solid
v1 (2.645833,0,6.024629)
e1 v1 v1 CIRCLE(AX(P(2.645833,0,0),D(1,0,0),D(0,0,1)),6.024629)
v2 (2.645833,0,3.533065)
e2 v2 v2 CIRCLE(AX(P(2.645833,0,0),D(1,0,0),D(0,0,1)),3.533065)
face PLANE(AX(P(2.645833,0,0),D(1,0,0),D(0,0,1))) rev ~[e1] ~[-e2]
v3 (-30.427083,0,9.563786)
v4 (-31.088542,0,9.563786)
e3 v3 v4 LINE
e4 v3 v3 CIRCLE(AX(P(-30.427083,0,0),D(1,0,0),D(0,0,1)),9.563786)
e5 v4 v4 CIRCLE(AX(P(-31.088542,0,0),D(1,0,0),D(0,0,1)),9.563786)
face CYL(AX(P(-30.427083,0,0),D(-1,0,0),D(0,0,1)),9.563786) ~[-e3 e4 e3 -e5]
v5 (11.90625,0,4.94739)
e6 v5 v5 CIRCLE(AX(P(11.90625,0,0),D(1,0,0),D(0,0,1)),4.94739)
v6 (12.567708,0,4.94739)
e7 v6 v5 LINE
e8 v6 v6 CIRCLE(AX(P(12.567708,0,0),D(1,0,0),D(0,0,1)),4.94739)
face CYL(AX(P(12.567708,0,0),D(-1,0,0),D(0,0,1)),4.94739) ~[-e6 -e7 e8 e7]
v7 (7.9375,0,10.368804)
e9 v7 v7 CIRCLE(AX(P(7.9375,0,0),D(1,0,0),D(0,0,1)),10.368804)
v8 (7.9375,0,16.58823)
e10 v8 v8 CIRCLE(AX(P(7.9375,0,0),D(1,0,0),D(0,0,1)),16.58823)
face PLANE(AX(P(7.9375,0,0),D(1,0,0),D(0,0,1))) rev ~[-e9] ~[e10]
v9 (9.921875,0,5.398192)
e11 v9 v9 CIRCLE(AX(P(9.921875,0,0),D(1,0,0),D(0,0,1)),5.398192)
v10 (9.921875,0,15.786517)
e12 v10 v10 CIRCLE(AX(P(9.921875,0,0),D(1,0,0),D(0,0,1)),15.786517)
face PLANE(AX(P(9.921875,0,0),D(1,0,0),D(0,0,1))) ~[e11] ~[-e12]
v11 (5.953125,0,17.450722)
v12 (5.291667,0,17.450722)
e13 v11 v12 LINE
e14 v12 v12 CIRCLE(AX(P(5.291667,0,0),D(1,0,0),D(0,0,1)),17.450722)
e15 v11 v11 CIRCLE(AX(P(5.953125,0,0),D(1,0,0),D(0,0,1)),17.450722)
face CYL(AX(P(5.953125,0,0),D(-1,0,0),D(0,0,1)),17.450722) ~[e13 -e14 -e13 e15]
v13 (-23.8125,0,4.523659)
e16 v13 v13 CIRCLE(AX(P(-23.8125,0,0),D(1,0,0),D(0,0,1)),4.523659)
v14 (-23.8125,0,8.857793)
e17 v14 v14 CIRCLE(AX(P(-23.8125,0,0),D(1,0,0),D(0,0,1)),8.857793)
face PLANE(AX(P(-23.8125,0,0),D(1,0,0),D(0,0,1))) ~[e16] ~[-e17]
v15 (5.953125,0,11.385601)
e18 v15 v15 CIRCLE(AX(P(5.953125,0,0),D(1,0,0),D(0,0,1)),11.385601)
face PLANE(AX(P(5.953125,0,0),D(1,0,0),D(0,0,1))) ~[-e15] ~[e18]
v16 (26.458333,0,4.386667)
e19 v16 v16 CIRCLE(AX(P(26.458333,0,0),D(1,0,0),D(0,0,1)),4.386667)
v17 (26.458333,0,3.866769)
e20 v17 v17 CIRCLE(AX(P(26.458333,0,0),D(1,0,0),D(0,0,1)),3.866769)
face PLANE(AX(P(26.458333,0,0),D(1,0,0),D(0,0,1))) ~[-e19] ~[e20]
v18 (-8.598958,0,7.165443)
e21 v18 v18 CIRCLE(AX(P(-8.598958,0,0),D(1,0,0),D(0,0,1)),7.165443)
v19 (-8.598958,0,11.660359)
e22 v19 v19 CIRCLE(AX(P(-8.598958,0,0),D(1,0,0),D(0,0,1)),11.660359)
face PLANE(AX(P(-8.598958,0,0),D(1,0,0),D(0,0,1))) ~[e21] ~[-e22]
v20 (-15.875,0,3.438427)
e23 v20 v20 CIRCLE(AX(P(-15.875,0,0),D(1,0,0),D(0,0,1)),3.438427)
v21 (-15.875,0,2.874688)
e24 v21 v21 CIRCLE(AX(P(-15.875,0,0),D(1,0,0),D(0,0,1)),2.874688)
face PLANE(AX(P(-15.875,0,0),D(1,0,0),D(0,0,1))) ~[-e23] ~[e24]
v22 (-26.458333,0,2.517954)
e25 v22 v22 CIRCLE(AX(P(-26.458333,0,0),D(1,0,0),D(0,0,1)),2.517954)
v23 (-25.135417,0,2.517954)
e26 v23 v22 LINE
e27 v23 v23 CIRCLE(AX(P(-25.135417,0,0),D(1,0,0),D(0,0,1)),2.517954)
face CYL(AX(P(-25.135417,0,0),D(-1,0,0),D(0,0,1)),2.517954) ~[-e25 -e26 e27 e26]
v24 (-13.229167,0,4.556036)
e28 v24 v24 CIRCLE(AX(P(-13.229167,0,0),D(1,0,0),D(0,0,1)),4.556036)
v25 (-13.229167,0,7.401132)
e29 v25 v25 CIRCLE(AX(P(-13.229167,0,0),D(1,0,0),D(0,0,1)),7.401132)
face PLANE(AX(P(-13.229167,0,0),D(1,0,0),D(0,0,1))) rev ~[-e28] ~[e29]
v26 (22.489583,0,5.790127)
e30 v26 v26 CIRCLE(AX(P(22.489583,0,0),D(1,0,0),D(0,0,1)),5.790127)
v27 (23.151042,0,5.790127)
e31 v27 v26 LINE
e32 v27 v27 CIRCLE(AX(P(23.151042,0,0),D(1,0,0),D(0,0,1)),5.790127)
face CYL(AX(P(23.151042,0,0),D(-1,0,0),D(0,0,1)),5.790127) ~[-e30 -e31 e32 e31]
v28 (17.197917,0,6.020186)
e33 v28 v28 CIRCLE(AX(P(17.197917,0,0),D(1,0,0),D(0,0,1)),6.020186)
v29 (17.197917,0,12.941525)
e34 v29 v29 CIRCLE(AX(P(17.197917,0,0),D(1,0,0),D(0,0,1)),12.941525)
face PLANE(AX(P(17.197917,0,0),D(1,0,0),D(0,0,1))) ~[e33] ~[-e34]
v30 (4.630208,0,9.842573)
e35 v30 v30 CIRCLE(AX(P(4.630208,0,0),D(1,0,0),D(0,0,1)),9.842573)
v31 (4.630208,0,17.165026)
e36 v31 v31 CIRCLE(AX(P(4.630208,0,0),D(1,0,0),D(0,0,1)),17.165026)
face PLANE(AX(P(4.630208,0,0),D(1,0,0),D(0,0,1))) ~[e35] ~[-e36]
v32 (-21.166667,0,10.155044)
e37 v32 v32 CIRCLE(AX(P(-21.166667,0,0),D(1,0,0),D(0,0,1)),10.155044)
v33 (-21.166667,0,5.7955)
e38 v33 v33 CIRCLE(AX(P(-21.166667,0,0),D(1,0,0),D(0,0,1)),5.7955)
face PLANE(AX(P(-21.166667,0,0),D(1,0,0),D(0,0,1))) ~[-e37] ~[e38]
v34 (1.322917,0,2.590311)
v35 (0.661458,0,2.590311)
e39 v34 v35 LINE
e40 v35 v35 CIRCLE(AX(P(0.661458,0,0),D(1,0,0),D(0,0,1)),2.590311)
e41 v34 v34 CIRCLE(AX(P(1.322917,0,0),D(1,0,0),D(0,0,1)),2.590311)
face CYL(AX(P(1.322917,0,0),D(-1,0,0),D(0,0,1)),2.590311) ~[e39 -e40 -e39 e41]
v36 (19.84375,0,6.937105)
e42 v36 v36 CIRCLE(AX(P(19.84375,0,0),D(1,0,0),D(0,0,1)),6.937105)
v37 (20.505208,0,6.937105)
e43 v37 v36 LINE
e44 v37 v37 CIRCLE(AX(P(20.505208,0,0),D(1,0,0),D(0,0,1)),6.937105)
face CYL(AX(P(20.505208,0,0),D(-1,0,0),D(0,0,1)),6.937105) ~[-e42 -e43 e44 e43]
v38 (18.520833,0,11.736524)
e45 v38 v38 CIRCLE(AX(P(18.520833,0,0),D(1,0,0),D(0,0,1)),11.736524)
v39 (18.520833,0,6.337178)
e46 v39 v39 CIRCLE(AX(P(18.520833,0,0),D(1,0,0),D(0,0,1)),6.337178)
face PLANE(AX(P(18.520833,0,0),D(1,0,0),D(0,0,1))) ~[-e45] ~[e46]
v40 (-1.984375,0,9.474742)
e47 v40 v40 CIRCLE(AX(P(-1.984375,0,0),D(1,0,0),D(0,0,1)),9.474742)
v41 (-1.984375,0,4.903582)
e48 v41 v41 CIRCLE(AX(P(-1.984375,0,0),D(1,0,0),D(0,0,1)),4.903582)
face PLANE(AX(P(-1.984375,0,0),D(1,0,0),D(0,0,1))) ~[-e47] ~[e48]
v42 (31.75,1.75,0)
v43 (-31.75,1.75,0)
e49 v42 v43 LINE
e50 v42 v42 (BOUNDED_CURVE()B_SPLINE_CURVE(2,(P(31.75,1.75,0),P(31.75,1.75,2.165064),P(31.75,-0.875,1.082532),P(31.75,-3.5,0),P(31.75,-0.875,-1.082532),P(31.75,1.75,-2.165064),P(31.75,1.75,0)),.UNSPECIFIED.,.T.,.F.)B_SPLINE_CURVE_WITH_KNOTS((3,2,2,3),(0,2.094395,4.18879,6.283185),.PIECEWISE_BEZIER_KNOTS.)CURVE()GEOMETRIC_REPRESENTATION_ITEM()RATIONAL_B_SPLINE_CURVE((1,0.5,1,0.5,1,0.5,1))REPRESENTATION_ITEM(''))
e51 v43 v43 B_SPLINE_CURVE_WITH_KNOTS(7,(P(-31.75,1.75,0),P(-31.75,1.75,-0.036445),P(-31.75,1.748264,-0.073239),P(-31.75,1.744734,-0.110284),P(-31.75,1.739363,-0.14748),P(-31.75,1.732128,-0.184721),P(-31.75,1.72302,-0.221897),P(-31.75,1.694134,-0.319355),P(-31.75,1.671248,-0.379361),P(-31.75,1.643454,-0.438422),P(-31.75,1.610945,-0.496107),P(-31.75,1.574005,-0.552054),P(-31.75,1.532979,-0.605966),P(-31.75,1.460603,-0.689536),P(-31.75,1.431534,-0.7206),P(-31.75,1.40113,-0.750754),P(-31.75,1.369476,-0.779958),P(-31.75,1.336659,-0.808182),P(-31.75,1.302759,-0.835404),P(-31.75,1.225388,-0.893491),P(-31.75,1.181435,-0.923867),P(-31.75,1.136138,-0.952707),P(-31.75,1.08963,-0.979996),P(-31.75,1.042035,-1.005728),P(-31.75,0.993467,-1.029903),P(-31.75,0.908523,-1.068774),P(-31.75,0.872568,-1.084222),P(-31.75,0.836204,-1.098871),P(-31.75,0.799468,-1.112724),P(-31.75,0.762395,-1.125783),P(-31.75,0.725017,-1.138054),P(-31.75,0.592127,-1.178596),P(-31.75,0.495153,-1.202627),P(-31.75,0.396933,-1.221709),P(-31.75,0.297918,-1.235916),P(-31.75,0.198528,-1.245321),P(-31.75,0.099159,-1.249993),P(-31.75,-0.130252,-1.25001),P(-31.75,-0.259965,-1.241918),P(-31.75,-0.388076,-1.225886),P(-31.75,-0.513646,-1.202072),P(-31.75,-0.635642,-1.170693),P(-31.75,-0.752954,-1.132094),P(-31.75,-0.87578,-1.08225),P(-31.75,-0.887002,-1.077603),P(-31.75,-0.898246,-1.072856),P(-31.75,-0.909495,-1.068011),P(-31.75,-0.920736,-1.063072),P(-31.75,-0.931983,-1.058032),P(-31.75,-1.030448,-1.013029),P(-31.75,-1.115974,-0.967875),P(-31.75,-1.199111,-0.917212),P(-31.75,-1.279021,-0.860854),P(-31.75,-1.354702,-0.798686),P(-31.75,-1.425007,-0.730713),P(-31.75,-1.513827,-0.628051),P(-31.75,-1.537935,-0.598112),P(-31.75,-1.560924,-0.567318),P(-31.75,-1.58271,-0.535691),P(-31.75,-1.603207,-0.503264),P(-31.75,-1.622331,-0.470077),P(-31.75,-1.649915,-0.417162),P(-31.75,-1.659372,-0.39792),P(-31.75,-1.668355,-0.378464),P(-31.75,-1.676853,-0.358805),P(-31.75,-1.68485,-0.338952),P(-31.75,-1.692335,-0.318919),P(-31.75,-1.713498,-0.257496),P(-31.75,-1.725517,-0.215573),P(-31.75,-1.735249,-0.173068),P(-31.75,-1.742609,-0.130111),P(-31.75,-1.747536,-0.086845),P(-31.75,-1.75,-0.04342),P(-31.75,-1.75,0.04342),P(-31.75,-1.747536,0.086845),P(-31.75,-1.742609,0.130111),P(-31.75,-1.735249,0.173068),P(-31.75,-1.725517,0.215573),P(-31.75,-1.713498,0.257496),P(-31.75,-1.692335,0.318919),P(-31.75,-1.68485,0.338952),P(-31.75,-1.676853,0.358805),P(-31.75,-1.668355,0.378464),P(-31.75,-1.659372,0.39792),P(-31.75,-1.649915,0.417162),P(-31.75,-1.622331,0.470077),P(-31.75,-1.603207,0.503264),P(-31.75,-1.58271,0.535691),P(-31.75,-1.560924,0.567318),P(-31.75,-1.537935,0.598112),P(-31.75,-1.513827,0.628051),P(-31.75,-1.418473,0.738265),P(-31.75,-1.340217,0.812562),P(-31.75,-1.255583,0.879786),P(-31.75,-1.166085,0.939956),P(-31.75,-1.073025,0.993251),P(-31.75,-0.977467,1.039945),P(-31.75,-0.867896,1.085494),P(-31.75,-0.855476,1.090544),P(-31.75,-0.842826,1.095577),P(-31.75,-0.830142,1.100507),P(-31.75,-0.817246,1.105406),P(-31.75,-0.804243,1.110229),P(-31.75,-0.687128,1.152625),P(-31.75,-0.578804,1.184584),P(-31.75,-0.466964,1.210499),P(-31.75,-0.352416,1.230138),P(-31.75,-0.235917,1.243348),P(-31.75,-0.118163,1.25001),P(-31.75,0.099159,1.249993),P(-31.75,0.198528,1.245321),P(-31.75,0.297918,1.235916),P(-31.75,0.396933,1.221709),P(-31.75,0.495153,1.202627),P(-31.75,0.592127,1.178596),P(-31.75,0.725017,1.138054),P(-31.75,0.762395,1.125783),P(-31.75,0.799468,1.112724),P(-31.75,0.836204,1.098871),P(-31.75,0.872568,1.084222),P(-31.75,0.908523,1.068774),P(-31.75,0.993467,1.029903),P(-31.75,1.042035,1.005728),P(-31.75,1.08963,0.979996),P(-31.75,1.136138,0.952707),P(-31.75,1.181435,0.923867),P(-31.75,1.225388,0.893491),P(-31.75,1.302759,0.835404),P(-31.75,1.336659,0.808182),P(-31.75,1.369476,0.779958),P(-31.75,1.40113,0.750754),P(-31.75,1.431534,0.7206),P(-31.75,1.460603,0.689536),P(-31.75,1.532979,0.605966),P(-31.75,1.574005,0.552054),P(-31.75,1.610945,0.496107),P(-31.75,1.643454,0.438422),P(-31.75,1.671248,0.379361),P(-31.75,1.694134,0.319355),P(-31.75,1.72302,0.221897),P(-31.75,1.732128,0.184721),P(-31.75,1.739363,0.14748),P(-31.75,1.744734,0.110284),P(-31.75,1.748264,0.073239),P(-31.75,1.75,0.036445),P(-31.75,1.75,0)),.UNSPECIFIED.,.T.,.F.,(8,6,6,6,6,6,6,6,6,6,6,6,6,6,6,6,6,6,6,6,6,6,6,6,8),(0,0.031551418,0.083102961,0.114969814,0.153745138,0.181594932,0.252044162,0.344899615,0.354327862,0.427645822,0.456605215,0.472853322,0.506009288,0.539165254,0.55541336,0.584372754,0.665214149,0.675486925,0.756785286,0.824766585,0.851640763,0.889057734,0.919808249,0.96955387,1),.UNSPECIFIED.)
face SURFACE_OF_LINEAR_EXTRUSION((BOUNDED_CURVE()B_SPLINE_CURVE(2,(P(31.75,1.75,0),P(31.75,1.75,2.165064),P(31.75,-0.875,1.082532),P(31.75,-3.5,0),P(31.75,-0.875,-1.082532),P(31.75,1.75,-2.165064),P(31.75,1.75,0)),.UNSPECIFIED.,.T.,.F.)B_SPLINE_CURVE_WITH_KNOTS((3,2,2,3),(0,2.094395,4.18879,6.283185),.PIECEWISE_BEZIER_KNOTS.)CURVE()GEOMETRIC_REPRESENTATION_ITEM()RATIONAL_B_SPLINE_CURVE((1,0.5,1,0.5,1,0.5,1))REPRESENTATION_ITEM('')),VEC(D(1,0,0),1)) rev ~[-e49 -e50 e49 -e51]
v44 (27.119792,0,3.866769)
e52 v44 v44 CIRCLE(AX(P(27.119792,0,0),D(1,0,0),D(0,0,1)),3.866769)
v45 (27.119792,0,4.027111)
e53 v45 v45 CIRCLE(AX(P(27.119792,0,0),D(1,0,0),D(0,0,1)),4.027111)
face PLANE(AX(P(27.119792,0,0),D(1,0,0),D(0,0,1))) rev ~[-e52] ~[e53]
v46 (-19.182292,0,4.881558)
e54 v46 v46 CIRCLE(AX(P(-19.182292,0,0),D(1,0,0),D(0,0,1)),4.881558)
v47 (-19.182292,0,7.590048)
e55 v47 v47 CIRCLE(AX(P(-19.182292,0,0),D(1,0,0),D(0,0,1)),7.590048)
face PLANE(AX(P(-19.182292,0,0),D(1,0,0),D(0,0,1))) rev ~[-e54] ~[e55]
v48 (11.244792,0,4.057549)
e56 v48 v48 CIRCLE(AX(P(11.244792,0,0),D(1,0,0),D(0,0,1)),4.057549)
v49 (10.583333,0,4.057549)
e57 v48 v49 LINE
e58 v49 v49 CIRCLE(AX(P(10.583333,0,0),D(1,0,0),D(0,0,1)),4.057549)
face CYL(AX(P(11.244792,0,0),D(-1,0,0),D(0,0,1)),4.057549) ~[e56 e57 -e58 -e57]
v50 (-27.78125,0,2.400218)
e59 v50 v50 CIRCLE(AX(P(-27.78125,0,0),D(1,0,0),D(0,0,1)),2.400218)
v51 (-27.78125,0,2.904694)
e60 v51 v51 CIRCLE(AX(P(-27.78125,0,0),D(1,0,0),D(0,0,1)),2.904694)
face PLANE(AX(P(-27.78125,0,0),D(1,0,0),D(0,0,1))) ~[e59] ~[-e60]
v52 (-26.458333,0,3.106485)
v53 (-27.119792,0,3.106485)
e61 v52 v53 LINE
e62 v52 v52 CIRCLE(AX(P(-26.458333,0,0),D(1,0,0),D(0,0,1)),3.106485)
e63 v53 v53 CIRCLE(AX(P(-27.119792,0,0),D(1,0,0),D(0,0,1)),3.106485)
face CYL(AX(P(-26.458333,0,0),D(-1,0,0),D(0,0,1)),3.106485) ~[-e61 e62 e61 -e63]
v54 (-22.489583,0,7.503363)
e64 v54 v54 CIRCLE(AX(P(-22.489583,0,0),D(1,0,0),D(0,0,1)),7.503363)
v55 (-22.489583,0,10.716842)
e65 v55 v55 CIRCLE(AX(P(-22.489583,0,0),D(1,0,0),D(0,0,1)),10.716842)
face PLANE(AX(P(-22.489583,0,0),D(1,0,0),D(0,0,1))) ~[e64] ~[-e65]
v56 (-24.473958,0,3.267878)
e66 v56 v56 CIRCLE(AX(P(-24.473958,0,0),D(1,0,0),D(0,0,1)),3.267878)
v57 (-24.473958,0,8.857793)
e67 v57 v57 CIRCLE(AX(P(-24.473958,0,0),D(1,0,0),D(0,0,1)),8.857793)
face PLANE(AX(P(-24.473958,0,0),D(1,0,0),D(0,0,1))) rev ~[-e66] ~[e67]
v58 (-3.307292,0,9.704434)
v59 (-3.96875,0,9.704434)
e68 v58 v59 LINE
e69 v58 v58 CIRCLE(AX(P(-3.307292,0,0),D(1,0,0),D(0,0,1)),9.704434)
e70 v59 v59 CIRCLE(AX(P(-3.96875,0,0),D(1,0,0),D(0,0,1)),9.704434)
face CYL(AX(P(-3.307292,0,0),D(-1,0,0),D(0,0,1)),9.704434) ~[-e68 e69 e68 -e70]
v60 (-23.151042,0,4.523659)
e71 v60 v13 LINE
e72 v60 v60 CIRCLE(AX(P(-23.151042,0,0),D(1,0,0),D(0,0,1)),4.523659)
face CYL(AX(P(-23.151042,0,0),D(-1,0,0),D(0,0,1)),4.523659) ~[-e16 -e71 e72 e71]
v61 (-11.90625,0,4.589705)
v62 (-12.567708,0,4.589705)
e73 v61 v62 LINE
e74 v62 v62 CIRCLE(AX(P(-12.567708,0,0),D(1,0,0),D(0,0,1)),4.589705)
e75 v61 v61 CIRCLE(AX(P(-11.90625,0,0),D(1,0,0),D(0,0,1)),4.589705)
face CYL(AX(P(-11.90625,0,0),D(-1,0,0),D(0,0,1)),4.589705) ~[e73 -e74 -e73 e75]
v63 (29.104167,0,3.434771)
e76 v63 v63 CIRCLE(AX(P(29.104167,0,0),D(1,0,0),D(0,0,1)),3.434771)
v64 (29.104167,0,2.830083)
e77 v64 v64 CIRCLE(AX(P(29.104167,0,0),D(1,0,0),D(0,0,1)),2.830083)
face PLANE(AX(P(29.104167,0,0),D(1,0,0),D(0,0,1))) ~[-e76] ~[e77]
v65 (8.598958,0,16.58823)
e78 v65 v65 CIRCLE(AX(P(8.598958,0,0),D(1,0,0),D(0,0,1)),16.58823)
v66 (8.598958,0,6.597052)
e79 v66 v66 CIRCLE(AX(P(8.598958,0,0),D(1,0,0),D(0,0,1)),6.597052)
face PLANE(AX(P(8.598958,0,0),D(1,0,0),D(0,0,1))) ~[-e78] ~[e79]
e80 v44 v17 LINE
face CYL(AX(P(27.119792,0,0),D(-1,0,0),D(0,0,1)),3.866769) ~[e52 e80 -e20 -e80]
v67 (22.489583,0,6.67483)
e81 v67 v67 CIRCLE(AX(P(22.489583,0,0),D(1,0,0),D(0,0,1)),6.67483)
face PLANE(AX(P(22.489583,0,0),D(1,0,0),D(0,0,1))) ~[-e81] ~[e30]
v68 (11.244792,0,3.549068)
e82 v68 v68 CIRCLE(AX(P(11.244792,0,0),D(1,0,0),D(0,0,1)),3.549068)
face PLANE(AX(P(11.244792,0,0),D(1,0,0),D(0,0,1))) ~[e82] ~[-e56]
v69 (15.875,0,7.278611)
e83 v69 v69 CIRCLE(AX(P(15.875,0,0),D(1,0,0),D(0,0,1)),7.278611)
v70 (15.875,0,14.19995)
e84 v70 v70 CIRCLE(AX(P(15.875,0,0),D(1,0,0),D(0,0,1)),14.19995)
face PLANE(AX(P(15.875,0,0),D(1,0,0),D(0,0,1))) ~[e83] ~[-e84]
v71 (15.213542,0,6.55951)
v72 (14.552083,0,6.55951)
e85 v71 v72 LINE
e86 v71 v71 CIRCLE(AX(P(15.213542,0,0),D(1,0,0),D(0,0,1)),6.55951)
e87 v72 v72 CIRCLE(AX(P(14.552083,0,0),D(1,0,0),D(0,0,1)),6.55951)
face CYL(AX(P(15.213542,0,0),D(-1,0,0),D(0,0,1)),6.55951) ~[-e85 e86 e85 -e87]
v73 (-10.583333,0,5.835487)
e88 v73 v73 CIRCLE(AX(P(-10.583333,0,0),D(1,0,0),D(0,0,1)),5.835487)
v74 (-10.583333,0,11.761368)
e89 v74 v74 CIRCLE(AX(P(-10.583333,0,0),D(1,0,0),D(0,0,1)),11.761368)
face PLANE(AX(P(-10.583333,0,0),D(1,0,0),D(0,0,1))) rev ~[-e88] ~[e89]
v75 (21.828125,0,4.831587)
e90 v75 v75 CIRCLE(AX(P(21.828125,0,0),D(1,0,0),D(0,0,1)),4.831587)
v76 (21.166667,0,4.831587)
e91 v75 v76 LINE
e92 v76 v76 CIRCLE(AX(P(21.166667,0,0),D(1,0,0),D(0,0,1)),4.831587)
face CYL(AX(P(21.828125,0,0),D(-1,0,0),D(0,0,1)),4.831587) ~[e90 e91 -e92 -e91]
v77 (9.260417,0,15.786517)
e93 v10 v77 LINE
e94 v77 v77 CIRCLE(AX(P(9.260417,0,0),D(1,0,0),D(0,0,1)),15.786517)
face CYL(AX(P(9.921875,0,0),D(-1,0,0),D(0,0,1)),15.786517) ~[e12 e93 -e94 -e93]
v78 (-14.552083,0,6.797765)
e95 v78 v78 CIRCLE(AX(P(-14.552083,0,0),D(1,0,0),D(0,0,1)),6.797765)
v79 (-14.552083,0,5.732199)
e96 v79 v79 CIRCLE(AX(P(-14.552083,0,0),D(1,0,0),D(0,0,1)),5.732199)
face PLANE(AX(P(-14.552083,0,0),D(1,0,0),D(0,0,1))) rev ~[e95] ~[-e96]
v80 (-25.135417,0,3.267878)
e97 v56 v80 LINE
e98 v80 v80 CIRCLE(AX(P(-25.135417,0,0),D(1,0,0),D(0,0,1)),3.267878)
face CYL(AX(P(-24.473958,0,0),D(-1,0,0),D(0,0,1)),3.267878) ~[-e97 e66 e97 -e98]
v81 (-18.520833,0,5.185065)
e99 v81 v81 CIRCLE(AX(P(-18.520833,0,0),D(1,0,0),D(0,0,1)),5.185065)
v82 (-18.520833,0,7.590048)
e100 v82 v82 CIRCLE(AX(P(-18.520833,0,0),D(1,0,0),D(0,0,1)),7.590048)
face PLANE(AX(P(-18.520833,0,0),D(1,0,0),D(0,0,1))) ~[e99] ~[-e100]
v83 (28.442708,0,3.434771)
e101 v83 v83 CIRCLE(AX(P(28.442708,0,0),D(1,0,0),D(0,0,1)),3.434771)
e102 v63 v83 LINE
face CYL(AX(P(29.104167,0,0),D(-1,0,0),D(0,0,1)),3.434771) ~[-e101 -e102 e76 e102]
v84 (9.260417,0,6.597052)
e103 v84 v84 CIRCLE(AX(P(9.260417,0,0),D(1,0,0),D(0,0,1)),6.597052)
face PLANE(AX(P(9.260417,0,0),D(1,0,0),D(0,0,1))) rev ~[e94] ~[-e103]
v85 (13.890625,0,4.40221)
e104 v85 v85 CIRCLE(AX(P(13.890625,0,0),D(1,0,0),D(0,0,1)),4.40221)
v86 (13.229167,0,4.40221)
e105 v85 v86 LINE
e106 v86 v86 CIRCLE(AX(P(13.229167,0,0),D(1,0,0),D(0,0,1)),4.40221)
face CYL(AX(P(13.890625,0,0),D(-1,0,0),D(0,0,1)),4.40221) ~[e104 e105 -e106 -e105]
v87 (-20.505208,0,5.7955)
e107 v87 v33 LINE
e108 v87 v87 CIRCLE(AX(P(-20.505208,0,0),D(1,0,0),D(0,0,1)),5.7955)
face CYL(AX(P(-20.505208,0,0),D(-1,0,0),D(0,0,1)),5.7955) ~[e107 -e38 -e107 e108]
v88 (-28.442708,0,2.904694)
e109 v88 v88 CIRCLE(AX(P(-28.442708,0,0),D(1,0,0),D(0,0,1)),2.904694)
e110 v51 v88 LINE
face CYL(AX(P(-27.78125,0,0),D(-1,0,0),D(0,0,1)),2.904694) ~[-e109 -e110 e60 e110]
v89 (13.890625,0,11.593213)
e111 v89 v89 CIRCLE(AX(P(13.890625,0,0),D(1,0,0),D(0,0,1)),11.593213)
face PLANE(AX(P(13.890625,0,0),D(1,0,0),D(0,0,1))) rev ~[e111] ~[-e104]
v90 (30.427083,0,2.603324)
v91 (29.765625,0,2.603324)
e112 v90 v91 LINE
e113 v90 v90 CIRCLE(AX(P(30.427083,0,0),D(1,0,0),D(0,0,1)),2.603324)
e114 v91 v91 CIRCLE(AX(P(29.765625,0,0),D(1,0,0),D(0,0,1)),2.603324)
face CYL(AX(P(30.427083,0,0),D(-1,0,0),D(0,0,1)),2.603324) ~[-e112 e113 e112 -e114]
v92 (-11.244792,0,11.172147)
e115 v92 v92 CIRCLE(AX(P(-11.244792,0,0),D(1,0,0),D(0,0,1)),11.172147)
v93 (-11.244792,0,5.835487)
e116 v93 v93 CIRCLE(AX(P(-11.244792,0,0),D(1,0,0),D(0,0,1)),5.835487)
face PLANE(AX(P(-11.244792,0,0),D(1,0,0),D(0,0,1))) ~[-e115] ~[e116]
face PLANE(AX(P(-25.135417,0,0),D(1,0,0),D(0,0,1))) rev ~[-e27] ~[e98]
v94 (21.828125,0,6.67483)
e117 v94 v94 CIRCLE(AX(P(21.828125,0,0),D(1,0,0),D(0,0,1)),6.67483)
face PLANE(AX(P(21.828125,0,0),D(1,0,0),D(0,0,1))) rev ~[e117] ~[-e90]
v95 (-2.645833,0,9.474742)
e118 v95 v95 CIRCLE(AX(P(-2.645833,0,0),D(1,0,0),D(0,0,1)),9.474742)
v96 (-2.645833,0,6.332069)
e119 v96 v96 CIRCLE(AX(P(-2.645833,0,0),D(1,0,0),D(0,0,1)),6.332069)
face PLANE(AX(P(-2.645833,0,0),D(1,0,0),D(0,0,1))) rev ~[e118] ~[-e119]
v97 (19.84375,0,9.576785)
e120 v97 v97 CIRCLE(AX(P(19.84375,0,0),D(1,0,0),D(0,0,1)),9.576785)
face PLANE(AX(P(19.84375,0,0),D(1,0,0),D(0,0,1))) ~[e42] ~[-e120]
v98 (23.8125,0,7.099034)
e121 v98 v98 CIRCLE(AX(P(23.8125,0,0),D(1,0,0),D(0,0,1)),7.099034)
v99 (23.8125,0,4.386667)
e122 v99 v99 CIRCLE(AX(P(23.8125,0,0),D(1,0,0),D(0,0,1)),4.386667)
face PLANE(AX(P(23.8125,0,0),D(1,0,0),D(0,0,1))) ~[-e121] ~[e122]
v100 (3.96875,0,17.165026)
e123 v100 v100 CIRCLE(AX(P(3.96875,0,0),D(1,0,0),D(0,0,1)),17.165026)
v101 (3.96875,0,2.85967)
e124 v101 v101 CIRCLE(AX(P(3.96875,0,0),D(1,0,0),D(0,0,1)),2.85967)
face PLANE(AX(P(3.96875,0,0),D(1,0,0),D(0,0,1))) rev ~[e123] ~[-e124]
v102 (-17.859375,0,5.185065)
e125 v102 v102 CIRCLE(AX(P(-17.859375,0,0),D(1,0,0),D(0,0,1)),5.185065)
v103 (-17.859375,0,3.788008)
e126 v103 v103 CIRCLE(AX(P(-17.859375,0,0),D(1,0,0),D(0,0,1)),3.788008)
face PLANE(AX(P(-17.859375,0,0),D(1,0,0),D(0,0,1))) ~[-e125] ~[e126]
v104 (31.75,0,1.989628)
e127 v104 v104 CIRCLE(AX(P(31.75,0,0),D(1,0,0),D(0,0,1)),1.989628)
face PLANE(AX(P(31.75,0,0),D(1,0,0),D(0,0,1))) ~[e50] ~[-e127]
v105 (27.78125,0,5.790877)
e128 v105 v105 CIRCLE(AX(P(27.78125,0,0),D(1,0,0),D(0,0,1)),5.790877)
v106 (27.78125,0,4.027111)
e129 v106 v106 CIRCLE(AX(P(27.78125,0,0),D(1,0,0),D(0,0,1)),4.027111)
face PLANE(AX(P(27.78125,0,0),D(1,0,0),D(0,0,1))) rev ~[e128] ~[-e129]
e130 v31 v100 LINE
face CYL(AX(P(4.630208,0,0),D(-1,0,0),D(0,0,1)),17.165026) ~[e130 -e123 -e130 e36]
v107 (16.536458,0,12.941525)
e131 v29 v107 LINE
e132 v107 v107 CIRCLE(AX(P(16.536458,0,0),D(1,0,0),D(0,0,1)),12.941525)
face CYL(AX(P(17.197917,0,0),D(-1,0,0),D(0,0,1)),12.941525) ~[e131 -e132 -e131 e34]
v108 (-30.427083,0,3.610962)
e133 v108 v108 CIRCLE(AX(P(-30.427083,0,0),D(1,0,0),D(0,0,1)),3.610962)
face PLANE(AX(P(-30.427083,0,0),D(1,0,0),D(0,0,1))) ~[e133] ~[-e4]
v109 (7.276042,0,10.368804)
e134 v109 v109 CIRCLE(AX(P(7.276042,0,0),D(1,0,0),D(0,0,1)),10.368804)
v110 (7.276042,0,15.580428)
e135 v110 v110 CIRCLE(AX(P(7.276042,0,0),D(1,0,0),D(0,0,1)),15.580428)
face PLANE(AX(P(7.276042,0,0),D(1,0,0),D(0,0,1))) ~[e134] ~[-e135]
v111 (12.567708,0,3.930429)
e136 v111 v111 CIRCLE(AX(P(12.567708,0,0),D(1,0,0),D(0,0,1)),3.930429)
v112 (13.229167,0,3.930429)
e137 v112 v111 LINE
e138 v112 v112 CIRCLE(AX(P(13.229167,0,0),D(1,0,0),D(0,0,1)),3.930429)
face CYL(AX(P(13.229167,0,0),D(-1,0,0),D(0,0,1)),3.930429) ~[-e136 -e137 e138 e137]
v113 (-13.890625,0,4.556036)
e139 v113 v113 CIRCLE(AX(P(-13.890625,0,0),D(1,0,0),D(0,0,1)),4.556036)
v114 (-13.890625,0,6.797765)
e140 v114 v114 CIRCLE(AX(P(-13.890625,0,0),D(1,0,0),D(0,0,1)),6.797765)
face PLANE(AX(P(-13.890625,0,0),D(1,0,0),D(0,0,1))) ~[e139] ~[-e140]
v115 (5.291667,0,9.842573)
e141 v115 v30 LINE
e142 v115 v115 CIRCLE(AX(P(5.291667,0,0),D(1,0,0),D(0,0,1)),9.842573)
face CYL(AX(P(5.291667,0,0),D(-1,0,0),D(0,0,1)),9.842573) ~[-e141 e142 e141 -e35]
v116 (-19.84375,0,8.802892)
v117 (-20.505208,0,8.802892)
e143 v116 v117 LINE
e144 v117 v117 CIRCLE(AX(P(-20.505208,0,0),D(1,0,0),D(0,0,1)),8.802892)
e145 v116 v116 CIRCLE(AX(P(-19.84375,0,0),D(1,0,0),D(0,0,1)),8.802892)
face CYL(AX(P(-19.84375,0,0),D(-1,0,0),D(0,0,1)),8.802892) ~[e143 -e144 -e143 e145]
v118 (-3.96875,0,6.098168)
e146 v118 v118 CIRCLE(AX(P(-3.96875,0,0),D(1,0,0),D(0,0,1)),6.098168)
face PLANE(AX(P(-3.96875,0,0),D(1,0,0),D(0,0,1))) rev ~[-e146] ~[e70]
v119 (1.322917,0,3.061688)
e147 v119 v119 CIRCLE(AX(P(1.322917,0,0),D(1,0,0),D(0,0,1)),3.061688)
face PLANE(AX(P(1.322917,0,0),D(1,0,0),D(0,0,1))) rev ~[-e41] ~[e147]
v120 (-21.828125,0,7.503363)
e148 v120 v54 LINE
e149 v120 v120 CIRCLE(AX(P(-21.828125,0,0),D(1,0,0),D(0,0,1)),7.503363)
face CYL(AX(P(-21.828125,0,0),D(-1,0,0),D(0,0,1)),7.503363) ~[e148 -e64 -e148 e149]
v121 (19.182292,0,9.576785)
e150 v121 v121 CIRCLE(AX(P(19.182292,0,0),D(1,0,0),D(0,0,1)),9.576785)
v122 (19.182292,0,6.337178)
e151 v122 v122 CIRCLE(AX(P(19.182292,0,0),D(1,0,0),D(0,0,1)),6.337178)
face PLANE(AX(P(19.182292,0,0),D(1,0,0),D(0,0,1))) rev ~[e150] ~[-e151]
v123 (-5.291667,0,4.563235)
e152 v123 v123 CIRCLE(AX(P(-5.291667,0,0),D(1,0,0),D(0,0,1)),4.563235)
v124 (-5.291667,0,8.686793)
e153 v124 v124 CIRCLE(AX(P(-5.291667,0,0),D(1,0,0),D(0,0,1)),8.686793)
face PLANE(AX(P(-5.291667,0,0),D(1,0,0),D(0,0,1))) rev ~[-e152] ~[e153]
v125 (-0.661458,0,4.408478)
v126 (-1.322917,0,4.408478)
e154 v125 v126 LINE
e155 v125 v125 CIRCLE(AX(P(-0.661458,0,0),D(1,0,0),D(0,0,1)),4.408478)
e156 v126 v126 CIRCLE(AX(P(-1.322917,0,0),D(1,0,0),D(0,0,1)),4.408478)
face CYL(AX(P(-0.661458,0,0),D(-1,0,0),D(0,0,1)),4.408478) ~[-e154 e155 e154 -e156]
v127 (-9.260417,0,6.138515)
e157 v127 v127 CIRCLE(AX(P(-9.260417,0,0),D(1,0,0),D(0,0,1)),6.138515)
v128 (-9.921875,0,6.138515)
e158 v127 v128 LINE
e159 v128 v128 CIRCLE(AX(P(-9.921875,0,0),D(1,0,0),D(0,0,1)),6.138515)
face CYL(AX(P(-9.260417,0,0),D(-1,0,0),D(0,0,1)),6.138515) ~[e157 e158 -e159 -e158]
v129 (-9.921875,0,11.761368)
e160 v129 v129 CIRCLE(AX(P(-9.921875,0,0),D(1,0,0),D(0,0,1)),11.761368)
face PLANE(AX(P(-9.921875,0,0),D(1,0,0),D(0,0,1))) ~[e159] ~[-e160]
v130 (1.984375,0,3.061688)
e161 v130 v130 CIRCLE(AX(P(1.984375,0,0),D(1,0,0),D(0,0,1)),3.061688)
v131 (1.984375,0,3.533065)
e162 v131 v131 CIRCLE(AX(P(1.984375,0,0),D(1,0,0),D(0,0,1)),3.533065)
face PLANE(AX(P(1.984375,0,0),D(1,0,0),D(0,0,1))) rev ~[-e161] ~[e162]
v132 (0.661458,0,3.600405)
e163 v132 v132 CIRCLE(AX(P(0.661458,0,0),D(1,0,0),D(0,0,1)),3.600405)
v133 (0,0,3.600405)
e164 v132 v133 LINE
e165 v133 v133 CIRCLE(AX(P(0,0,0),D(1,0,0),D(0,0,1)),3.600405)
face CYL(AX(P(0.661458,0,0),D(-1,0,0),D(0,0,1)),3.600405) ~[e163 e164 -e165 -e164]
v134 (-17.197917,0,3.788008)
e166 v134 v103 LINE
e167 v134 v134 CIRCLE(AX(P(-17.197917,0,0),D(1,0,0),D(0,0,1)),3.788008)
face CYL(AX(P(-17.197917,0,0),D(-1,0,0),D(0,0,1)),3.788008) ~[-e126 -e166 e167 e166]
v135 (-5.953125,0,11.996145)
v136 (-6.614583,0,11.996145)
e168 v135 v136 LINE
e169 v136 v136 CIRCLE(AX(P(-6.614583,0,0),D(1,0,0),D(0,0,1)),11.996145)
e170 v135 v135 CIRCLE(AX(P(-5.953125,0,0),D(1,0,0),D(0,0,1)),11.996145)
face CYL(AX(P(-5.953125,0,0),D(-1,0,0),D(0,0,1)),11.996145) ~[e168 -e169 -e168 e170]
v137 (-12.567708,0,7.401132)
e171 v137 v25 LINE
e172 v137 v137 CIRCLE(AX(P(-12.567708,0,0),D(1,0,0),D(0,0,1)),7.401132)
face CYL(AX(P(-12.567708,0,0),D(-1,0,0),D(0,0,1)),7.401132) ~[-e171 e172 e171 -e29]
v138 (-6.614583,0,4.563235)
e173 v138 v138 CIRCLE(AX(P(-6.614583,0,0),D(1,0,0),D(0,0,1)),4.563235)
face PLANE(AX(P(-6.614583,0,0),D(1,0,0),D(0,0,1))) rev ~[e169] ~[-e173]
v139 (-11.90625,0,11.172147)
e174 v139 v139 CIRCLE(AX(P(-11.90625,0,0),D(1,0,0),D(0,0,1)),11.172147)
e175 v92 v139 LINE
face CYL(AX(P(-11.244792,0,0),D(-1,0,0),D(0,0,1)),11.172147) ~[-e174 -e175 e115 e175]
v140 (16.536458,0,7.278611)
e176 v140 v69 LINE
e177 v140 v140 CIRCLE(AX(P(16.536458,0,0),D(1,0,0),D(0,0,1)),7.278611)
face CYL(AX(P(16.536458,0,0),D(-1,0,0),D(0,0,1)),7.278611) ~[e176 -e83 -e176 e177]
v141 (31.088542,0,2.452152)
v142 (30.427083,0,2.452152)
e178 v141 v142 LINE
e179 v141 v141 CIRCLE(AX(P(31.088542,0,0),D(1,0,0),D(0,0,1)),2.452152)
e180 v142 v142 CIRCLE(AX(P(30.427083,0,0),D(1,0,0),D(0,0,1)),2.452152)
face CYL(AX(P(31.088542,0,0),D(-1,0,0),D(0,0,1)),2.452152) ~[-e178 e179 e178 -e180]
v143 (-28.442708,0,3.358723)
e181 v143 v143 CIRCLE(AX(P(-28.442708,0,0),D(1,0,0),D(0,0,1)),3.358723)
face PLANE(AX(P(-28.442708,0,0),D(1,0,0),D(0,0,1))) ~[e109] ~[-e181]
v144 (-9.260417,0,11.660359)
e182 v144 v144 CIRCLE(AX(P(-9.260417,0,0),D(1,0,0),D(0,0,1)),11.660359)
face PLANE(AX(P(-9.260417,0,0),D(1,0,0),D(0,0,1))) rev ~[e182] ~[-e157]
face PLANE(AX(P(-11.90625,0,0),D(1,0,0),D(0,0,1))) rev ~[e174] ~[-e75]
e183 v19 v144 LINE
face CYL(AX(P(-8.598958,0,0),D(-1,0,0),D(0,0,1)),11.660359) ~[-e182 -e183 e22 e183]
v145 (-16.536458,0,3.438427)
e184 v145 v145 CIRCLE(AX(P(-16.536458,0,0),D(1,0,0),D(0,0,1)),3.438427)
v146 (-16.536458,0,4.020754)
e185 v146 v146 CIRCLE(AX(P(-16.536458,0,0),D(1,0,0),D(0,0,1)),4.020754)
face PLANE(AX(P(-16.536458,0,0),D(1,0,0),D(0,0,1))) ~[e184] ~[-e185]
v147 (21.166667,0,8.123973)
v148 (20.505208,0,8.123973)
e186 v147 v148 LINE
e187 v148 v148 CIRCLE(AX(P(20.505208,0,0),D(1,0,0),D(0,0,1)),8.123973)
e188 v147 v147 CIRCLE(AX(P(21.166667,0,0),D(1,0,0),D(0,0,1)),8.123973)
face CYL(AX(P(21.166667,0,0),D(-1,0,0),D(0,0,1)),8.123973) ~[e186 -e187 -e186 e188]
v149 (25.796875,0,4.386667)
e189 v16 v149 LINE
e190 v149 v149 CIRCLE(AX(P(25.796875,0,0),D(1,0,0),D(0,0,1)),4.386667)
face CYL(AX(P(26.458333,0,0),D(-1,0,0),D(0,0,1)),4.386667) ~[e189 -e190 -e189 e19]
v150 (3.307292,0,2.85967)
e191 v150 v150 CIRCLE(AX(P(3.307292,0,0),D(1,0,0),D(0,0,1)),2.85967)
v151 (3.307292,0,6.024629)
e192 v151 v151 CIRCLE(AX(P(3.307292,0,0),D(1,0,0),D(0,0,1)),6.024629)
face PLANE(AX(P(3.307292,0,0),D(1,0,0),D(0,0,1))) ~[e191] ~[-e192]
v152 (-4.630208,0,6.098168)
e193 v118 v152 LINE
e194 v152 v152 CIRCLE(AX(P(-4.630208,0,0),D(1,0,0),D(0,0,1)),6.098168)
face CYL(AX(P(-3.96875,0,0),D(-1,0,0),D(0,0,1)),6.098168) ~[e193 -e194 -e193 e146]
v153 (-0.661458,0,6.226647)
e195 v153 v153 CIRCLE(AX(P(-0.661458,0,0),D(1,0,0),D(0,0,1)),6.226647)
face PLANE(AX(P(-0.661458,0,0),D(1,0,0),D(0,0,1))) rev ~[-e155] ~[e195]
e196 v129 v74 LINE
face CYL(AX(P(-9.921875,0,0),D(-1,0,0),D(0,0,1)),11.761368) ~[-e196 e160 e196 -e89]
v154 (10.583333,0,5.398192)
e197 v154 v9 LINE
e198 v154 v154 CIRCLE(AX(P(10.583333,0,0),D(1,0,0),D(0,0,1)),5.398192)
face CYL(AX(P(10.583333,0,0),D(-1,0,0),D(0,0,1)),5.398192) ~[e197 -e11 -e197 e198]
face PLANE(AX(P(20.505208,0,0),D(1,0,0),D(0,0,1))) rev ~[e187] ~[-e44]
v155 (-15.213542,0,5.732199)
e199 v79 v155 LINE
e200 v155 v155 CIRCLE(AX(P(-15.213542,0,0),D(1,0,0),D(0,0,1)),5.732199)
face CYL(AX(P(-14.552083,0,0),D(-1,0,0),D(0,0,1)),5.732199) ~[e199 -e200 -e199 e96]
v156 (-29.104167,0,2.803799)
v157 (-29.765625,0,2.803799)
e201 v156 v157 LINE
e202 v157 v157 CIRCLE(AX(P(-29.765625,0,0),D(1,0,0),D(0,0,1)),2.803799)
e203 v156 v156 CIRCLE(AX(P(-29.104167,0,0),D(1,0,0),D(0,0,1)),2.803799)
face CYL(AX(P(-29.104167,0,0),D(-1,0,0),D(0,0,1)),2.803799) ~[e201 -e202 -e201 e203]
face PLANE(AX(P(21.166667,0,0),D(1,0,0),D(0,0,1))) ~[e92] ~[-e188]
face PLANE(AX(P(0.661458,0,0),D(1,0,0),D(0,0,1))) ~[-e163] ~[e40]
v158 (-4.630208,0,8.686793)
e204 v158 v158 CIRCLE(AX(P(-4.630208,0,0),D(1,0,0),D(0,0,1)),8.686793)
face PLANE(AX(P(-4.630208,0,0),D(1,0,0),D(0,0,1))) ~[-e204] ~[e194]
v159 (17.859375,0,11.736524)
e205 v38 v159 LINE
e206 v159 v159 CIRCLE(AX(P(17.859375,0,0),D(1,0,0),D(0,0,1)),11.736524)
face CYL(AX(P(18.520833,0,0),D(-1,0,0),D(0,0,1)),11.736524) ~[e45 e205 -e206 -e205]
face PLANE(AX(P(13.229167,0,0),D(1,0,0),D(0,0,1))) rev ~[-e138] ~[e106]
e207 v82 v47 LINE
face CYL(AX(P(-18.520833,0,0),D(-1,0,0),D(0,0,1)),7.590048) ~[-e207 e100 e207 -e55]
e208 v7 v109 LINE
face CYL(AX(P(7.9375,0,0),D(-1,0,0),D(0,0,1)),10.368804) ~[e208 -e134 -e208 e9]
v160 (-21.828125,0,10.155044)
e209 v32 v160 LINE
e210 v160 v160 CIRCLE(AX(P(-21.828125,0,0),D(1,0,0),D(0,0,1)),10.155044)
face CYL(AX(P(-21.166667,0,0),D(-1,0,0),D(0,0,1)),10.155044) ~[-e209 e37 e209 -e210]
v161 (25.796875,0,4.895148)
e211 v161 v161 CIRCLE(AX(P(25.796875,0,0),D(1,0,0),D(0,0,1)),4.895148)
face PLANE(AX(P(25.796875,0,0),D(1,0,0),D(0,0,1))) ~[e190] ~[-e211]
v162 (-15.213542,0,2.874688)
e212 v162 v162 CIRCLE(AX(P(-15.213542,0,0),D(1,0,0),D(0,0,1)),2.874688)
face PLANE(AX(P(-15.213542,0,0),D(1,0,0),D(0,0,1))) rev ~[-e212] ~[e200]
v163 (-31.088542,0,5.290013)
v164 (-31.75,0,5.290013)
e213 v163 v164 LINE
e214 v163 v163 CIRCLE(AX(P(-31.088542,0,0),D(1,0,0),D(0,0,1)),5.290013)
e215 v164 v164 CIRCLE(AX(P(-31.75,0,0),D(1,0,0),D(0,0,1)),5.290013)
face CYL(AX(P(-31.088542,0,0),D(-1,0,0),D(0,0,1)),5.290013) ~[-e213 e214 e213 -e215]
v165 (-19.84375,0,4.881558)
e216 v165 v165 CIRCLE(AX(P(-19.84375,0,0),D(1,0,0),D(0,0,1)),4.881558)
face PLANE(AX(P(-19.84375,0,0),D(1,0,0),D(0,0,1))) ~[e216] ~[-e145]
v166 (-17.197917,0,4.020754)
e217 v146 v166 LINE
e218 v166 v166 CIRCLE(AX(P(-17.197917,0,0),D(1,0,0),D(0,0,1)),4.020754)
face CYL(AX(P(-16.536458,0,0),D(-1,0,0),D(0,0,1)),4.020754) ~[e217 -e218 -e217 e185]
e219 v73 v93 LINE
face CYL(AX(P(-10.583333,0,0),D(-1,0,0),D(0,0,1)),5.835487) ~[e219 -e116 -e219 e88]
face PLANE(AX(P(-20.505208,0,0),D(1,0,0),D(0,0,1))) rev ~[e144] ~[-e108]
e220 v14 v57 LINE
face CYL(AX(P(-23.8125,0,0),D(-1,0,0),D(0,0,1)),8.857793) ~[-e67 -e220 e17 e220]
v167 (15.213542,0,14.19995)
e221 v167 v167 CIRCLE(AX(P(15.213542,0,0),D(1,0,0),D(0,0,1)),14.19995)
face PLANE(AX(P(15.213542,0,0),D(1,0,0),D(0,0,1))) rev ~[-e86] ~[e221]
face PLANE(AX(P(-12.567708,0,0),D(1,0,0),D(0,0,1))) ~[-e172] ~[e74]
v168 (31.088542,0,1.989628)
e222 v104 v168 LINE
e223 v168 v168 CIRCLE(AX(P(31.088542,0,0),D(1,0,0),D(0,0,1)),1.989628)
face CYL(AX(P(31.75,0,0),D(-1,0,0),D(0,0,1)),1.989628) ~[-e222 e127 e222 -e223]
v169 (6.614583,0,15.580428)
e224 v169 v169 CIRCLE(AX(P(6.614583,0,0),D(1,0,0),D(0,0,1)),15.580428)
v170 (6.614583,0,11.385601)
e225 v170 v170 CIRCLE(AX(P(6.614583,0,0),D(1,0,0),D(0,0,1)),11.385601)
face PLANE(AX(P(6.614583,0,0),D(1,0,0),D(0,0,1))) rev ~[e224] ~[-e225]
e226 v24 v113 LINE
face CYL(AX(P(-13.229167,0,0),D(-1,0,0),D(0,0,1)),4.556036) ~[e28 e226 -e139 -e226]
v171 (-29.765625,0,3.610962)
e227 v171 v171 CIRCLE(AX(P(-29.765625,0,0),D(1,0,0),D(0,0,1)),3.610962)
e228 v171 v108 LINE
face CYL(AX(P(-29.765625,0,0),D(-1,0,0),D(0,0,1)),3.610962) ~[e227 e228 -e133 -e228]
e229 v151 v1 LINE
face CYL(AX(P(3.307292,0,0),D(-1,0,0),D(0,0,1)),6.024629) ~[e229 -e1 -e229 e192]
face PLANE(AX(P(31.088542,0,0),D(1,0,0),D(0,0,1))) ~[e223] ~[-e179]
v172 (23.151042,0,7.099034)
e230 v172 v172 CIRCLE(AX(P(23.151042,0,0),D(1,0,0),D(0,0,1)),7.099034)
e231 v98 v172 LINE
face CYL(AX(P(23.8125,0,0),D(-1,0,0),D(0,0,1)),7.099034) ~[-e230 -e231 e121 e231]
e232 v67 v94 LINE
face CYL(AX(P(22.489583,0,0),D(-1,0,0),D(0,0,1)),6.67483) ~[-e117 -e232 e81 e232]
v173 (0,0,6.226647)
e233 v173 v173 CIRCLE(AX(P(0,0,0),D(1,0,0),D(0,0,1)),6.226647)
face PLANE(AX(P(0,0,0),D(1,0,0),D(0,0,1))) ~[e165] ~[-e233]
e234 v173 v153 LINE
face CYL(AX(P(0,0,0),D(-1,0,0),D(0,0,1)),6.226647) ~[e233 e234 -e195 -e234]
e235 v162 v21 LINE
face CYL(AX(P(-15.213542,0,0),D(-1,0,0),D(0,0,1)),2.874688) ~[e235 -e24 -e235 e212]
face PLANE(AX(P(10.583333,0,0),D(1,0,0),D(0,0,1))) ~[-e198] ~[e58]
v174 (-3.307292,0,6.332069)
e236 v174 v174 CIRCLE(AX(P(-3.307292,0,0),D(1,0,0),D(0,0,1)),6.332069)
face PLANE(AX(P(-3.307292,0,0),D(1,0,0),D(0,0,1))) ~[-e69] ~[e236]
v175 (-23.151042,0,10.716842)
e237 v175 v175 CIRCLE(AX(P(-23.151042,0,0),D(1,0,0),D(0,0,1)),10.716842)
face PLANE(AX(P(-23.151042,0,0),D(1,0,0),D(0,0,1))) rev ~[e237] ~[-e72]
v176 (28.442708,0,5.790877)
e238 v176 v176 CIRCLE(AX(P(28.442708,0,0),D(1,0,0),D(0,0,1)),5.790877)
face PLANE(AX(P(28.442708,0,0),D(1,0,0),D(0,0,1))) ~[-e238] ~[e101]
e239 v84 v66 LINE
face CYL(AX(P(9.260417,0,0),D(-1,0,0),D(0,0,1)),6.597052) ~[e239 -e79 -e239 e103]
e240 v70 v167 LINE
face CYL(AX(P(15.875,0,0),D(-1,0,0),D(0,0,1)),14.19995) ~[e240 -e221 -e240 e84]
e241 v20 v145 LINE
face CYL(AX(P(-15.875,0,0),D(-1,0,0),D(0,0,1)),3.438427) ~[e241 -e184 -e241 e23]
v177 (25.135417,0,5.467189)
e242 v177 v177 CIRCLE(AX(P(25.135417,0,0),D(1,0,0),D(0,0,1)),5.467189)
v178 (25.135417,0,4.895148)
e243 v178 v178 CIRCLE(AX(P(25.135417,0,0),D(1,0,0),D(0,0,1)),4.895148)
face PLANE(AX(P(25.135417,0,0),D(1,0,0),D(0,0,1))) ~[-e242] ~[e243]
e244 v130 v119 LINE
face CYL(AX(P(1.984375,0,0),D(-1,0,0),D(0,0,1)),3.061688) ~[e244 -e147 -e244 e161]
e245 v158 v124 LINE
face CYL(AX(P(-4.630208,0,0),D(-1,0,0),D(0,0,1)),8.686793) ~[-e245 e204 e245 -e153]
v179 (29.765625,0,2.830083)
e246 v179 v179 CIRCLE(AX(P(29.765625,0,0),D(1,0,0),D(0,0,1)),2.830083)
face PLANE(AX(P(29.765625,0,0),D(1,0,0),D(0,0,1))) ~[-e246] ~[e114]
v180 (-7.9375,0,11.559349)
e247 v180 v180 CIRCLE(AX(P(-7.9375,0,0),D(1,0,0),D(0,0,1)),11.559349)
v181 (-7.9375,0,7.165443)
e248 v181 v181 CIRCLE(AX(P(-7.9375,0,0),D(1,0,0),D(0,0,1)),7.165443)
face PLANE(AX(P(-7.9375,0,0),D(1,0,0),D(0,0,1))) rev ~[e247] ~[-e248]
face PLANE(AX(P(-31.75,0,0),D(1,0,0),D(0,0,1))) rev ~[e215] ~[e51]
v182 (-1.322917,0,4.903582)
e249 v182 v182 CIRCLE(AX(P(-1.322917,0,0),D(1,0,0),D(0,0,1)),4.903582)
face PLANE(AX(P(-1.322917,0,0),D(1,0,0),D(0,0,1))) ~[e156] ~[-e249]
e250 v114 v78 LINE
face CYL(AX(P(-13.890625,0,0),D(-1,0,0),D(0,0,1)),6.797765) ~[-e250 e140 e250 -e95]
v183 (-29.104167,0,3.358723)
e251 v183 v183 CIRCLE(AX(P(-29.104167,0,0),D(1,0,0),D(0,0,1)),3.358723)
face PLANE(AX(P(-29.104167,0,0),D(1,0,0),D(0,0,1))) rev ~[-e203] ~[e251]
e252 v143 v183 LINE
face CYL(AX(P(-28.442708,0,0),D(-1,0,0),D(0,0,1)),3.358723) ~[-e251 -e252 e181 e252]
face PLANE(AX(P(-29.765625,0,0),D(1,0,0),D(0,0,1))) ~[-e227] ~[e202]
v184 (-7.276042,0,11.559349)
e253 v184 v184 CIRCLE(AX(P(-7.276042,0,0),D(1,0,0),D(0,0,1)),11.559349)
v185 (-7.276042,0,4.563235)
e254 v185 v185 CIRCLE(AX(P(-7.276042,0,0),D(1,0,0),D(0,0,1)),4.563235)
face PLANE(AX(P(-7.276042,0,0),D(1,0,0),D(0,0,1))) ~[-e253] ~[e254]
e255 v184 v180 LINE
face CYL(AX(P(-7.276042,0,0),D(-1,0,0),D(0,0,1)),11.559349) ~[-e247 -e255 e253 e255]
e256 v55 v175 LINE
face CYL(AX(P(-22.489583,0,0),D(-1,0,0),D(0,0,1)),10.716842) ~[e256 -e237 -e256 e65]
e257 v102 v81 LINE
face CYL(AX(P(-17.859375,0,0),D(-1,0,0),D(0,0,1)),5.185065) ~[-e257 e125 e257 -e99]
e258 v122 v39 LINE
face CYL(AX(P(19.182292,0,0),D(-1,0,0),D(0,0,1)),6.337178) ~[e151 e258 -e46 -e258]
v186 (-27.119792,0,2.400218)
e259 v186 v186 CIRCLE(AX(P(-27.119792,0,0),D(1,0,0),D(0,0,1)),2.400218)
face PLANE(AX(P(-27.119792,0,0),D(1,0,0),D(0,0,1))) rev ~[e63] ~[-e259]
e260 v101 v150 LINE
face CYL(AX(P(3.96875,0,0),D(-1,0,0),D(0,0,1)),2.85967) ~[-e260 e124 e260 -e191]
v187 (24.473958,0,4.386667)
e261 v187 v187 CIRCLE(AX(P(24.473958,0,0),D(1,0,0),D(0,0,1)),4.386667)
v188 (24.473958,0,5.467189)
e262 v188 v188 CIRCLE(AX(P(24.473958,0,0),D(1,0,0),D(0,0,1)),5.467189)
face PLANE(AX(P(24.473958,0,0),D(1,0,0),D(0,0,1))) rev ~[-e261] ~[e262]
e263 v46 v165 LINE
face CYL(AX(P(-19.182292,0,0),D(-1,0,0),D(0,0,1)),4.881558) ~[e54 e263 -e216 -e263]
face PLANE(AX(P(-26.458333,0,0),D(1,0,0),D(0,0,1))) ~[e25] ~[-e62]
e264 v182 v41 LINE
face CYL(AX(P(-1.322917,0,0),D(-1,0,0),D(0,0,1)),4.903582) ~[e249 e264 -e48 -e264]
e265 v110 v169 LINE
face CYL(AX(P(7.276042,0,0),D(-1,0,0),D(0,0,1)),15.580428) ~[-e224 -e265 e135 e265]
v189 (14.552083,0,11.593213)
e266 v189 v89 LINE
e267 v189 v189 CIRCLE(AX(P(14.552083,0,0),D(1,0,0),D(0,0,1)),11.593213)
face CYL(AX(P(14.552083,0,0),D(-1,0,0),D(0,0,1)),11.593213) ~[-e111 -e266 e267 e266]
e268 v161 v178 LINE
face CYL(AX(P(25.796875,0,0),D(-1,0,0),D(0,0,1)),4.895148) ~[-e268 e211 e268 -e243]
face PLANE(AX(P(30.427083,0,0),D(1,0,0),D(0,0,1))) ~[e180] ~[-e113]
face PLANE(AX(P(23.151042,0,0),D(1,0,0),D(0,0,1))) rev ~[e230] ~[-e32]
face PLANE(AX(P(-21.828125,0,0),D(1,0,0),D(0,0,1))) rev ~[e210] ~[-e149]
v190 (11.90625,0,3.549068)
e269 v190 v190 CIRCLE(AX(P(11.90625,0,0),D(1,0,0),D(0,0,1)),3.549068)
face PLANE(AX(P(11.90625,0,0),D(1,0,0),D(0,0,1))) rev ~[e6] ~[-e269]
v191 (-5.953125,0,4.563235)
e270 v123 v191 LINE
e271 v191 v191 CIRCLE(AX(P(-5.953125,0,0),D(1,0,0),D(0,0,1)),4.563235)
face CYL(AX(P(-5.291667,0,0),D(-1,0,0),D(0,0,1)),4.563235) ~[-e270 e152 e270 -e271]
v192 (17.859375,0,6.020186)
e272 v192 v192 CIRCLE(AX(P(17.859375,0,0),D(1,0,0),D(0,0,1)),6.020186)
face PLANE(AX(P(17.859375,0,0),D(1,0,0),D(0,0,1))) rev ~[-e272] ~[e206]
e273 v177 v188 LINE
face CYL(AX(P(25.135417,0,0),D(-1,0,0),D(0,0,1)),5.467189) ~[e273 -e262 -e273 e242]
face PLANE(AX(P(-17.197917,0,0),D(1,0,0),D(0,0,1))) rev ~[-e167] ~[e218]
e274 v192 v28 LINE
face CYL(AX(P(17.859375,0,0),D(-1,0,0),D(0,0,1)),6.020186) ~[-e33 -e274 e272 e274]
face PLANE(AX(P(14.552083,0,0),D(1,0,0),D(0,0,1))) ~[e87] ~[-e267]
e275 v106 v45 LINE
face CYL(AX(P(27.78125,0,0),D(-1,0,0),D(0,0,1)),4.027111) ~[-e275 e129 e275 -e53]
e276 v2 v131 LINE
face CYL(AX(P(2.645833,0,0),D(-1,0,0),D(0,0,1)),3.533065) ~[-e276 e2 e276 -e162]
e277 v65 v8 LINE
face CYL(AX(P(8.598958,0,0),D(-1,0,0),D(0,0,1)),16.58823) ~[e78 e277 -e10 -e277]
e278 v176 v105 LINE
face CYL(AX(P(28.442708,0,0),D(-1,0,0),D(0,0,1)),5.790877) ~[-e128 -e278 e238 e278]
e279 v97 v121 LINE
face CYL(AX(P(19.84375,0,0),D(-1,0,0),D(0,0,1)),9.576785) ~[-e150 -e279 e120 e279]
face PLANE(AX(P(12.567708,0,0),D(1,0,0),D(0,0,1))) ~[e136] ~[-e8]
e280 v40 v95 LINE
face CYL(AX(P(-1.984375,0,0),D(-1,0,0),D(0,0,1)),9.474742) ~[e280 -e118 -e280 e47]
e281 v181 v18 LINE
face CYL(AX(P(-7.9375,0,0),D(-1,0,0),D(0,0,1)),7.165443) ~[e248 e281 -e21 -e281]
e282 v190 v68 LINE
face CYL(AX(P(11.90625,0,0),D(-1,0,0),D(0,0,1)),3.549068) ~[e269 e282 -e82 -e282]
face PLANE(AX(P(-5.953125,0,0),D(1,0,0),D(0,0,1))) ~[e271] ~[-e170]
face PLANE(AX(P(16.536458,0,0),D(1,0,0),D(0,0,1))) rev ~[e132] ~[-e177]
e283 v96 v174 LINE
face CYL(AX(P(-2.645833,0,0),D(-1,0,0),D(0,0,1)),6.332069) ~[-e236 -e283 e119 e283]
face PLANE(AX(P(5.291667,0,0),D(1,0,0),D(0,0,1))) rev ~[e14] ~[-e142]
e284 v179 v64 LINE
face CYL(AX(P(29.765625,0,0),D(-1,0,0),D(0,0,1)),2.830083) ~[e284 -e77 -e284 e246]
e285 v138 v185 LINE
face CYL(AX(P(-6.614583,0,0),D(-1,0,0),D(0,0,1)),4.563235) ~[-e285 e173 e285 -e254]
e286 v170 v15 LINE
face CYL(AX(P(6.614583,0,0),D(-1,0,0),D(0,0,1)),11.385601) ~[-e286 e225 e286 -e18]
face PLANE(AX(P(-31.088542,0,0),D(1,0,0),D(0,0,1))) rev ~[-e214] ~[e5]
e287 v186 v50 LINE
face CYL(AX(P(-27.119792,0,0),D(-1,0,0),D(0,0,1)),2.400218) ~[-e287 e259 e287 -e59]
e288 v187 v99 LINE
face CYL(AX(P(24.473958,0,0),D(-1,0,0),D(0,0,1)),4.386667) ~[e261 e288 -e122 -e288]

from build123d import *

# Parameters (mm, degrees)
F3_DEPTH = 63.501


with BuildPart() as f1:
    # F0 (on Front) → F1 (revolve)
    with BuildSketch(Plane.XZ):
        Polygon((-31.75, 5.290013), (-31.75, 0), (31.75, 0), (31.75, 1.989628), (31.088542, 1.989628), (31.088542, 2.452152), (30.427083, 2.452152), (30.427083, 2.603324), (29.765625, 2.603324), (29.765625, 2.830083), (29.104167, 2.830083), (29.104167, 3.434771), (28.442708, 3.434771), (28.442708, 5.790877), (27.78125, 5.790877), (27.78125, 4.027111), (27.119792, 4.027111), (27.119792, 3.866769), (26.458333, 3.866769), (26.458333, 4.386667), (25.796875, 4.386667), (25.796875, 4.895148), (25.135417, 4.895148), (25.135417, 5.467189), (24.473958, 5.467189), (24.473958, 4.386667), (23.8125, 4.386667), (23.8125, 7.099034), (23.151042, 7.099034), (23.151042, 5.790127), (22.489583, 5.790127), (22.489583, 6.67483), (21.828125, 6.67483), (21.828125, 4.831587), (21.166667, 4.831587), (21.166667, 8.123973), (20.505208, 8.123973), (20.505208, 6.937105), (19.84375, 6.937105), (19.84375, 9.576785), (19.182292, 9.576785), (19.182292, 6.337178), (18.520833, 6.337178), (18.520833, 11.736524), (17.859375, 11.736524), (17.859375, 6.020186), (17.197917, 6.020186), (17.197917, 12.941525), (16.536458, 12.941525), (16.536458, 7.278611), (15.875, 7.278611), (15.875, 14.19995), (15.213542, 14.19995), (15.213542, 6.55951), (14.552083, 6.55951), (14.552083, 11.593213), (13.890625, 11.593213), (13.890625, 4.40221), (13.229167, 4.40221), (13.229167, 3.930429), (12.567708, 3.930429), (12.567708, 4.94739), (11.90625, 4.94739), (11.90625, 3.549068), (11.244792, 3.549068), (11.244792, 4.057549), (10.583333, 4.057549), (10.583333, 5.398192), (9.921875, 5.398192), (9.921875, 15.786517), (9.260417, 15.786517), (9.260417, 6.597052), (8.598958, 6.597052), (8.598958, 16.58823), (7.9375, 16.58823), (7.9375, 10.368804), (7.276042, 10.368804), (7.276042, 15.580428), (6.614583, 15.580428), (6.614583, 11.385601), (5.953125, 11.385601), (5.953125, 17.450722), (5.291667, 17.450722), (5.291667, 9.842573), (4.630208, 9.842573), (4.630208, 17.165026), (3.96875, 17.165026), (3.96875, 2.85967), (3.307292, 2.85967), (3.307292, 6.024629), (2.645833, 6.024629), (2.645833, 3.533065), (1.984375, 3.533065), (1.984375, 3.061688), (1.322917, 3.061688), (1.322917, 2.590311), (0.661458, 2.590311), (0.661458, 3.600405), (0, 3.600405), (0, 6.226647), (-0.661458, 6.226647), (-0.661458, 4.408478), (-1.322917, 4.408478), (-1.322917, 4.903582), (-1.984375, 4.903582), (-1.984375, 9.474742), (-2.645833, 9.474742), (-2.645833, 6.332069), (-3.307292, 6.332069), (-3.307292, 9.704434), (-3.96875, 9.704434), (-3.96875, 6.098168), (-4.630208, 6.098168), (-4.630208, 8.686793), (-5.291667, 8.686793), (-5.291667, 4.563235), (-5.953125, 4.563235), (-5.953125, 11.996145), (-6.614583, 11.996145), (-6.614583, 4.563235), (-7.276042, 4.563235), (-7.276042, 11.559349), (-7.9375, 11.559349), (-7.9375, 7.165443), (-8.598958, 7.165443), (-8.598958, 11.660359), (-9.260417, 11.660359), (-9.260417, 6.138515), (-9.921875, 6.138515), (-9.921875, 11.761368), (-10.583333, 11.761368), (-10.583333, 5.835487), (-11.244792, 5.835487), (-11.244792, 11.172147), (-11.90625, 11.172147), (-11.90625, 4.589705), (-12.567708, 4.589705), (-12.567708, 7.401132), (-13.229167, 7.401132), (-13.229167, 4.556036), (-13.890625, 4.556036), (-13.890625, 6.797765), (-14.552083, 6.797765), (-14.552083, 5.732199), (-15.213542, 5.732199), (-15.213542, 2.874688), (-15.875, 2.874688), (-15.875, 3.438427), (-16.536458, 3.438427), (-16.536458, 4.020754), (-17.197917, 4.020754), (-17.197917, 3.788008), (-17.859375, 3.788008), (-17.859375, 5.185065), (-18.520833, 5.185065), (-18.520833, 7.590048), (-19.182292, 7.590048), (-19.182292, 4.881558), (-19.84375, 4.881558), (-19.84375, 8.802892), (-20.505208, 8.802892), (-20.505208, 5.7955), (-21.166667, 5.7955), (-21.166667, 10.155044), (-21.828125, 10.155044), (-21.828125, 7.503363), (-22.489583, 7.503363), (-22.489583, 10.716842), (-23.151042, 10.716842), (-23.151042, 4.523659), (-23.8125, 4.523659), (-23.8125, 8.857793), (-24.473958, 8.857793), (-24.473958, 3.267878), (-25.135417, 3.267878), (-25.135417, 2.517954), (-25.796875, 2.517954), (-26.458333, 2.517954), (-26.458333, 3.106485), (-27.119792, 3.106485), (-27.119792, 2.400218), (-27.78125, 2.400218), (-27.78125, 2.904694), (-28.442708, 2.904694), (-28.442708, 3.358723), (-29.104167, 3.358723), (-29.104167, 2.803799), (-29.765625, 2.803799), (-29.765625, 3.610962), (-30.427083, 3.610962), (-30.427083, 9.563786), (-31.088542, 9.563786), (-31.088542, 5.290013), align=None)
    revolve(axis=Axis((0, 0, 0), (1, 0, 0)))

    # F2 (on face) → F3 (cut, through all)
    with BuildSketch(Plane.YZ.offset(31.75)):
        with BuildLine():
            add(Edge.make_bspline(
                [(1.75, 0), (1.75, 2.165064), (-0.875, 1.082532), (-3.5, 0), (-0.875, -1.082532), (1.75, -2.165064), (1.75, 0)],
                knots=[0, 0, 0, 2.094395, 2.094395, 4.18879, 4.18879, 6.283185, 6.283185, 6.283185], degree=2, weights=[1, 0.5, 1, 0.5, 1, 0.5, 1]))
        make_face()
    extrude(amount=-F3_DEPTH, mode=Mode.SUBTRACT)


solid = f1.part
